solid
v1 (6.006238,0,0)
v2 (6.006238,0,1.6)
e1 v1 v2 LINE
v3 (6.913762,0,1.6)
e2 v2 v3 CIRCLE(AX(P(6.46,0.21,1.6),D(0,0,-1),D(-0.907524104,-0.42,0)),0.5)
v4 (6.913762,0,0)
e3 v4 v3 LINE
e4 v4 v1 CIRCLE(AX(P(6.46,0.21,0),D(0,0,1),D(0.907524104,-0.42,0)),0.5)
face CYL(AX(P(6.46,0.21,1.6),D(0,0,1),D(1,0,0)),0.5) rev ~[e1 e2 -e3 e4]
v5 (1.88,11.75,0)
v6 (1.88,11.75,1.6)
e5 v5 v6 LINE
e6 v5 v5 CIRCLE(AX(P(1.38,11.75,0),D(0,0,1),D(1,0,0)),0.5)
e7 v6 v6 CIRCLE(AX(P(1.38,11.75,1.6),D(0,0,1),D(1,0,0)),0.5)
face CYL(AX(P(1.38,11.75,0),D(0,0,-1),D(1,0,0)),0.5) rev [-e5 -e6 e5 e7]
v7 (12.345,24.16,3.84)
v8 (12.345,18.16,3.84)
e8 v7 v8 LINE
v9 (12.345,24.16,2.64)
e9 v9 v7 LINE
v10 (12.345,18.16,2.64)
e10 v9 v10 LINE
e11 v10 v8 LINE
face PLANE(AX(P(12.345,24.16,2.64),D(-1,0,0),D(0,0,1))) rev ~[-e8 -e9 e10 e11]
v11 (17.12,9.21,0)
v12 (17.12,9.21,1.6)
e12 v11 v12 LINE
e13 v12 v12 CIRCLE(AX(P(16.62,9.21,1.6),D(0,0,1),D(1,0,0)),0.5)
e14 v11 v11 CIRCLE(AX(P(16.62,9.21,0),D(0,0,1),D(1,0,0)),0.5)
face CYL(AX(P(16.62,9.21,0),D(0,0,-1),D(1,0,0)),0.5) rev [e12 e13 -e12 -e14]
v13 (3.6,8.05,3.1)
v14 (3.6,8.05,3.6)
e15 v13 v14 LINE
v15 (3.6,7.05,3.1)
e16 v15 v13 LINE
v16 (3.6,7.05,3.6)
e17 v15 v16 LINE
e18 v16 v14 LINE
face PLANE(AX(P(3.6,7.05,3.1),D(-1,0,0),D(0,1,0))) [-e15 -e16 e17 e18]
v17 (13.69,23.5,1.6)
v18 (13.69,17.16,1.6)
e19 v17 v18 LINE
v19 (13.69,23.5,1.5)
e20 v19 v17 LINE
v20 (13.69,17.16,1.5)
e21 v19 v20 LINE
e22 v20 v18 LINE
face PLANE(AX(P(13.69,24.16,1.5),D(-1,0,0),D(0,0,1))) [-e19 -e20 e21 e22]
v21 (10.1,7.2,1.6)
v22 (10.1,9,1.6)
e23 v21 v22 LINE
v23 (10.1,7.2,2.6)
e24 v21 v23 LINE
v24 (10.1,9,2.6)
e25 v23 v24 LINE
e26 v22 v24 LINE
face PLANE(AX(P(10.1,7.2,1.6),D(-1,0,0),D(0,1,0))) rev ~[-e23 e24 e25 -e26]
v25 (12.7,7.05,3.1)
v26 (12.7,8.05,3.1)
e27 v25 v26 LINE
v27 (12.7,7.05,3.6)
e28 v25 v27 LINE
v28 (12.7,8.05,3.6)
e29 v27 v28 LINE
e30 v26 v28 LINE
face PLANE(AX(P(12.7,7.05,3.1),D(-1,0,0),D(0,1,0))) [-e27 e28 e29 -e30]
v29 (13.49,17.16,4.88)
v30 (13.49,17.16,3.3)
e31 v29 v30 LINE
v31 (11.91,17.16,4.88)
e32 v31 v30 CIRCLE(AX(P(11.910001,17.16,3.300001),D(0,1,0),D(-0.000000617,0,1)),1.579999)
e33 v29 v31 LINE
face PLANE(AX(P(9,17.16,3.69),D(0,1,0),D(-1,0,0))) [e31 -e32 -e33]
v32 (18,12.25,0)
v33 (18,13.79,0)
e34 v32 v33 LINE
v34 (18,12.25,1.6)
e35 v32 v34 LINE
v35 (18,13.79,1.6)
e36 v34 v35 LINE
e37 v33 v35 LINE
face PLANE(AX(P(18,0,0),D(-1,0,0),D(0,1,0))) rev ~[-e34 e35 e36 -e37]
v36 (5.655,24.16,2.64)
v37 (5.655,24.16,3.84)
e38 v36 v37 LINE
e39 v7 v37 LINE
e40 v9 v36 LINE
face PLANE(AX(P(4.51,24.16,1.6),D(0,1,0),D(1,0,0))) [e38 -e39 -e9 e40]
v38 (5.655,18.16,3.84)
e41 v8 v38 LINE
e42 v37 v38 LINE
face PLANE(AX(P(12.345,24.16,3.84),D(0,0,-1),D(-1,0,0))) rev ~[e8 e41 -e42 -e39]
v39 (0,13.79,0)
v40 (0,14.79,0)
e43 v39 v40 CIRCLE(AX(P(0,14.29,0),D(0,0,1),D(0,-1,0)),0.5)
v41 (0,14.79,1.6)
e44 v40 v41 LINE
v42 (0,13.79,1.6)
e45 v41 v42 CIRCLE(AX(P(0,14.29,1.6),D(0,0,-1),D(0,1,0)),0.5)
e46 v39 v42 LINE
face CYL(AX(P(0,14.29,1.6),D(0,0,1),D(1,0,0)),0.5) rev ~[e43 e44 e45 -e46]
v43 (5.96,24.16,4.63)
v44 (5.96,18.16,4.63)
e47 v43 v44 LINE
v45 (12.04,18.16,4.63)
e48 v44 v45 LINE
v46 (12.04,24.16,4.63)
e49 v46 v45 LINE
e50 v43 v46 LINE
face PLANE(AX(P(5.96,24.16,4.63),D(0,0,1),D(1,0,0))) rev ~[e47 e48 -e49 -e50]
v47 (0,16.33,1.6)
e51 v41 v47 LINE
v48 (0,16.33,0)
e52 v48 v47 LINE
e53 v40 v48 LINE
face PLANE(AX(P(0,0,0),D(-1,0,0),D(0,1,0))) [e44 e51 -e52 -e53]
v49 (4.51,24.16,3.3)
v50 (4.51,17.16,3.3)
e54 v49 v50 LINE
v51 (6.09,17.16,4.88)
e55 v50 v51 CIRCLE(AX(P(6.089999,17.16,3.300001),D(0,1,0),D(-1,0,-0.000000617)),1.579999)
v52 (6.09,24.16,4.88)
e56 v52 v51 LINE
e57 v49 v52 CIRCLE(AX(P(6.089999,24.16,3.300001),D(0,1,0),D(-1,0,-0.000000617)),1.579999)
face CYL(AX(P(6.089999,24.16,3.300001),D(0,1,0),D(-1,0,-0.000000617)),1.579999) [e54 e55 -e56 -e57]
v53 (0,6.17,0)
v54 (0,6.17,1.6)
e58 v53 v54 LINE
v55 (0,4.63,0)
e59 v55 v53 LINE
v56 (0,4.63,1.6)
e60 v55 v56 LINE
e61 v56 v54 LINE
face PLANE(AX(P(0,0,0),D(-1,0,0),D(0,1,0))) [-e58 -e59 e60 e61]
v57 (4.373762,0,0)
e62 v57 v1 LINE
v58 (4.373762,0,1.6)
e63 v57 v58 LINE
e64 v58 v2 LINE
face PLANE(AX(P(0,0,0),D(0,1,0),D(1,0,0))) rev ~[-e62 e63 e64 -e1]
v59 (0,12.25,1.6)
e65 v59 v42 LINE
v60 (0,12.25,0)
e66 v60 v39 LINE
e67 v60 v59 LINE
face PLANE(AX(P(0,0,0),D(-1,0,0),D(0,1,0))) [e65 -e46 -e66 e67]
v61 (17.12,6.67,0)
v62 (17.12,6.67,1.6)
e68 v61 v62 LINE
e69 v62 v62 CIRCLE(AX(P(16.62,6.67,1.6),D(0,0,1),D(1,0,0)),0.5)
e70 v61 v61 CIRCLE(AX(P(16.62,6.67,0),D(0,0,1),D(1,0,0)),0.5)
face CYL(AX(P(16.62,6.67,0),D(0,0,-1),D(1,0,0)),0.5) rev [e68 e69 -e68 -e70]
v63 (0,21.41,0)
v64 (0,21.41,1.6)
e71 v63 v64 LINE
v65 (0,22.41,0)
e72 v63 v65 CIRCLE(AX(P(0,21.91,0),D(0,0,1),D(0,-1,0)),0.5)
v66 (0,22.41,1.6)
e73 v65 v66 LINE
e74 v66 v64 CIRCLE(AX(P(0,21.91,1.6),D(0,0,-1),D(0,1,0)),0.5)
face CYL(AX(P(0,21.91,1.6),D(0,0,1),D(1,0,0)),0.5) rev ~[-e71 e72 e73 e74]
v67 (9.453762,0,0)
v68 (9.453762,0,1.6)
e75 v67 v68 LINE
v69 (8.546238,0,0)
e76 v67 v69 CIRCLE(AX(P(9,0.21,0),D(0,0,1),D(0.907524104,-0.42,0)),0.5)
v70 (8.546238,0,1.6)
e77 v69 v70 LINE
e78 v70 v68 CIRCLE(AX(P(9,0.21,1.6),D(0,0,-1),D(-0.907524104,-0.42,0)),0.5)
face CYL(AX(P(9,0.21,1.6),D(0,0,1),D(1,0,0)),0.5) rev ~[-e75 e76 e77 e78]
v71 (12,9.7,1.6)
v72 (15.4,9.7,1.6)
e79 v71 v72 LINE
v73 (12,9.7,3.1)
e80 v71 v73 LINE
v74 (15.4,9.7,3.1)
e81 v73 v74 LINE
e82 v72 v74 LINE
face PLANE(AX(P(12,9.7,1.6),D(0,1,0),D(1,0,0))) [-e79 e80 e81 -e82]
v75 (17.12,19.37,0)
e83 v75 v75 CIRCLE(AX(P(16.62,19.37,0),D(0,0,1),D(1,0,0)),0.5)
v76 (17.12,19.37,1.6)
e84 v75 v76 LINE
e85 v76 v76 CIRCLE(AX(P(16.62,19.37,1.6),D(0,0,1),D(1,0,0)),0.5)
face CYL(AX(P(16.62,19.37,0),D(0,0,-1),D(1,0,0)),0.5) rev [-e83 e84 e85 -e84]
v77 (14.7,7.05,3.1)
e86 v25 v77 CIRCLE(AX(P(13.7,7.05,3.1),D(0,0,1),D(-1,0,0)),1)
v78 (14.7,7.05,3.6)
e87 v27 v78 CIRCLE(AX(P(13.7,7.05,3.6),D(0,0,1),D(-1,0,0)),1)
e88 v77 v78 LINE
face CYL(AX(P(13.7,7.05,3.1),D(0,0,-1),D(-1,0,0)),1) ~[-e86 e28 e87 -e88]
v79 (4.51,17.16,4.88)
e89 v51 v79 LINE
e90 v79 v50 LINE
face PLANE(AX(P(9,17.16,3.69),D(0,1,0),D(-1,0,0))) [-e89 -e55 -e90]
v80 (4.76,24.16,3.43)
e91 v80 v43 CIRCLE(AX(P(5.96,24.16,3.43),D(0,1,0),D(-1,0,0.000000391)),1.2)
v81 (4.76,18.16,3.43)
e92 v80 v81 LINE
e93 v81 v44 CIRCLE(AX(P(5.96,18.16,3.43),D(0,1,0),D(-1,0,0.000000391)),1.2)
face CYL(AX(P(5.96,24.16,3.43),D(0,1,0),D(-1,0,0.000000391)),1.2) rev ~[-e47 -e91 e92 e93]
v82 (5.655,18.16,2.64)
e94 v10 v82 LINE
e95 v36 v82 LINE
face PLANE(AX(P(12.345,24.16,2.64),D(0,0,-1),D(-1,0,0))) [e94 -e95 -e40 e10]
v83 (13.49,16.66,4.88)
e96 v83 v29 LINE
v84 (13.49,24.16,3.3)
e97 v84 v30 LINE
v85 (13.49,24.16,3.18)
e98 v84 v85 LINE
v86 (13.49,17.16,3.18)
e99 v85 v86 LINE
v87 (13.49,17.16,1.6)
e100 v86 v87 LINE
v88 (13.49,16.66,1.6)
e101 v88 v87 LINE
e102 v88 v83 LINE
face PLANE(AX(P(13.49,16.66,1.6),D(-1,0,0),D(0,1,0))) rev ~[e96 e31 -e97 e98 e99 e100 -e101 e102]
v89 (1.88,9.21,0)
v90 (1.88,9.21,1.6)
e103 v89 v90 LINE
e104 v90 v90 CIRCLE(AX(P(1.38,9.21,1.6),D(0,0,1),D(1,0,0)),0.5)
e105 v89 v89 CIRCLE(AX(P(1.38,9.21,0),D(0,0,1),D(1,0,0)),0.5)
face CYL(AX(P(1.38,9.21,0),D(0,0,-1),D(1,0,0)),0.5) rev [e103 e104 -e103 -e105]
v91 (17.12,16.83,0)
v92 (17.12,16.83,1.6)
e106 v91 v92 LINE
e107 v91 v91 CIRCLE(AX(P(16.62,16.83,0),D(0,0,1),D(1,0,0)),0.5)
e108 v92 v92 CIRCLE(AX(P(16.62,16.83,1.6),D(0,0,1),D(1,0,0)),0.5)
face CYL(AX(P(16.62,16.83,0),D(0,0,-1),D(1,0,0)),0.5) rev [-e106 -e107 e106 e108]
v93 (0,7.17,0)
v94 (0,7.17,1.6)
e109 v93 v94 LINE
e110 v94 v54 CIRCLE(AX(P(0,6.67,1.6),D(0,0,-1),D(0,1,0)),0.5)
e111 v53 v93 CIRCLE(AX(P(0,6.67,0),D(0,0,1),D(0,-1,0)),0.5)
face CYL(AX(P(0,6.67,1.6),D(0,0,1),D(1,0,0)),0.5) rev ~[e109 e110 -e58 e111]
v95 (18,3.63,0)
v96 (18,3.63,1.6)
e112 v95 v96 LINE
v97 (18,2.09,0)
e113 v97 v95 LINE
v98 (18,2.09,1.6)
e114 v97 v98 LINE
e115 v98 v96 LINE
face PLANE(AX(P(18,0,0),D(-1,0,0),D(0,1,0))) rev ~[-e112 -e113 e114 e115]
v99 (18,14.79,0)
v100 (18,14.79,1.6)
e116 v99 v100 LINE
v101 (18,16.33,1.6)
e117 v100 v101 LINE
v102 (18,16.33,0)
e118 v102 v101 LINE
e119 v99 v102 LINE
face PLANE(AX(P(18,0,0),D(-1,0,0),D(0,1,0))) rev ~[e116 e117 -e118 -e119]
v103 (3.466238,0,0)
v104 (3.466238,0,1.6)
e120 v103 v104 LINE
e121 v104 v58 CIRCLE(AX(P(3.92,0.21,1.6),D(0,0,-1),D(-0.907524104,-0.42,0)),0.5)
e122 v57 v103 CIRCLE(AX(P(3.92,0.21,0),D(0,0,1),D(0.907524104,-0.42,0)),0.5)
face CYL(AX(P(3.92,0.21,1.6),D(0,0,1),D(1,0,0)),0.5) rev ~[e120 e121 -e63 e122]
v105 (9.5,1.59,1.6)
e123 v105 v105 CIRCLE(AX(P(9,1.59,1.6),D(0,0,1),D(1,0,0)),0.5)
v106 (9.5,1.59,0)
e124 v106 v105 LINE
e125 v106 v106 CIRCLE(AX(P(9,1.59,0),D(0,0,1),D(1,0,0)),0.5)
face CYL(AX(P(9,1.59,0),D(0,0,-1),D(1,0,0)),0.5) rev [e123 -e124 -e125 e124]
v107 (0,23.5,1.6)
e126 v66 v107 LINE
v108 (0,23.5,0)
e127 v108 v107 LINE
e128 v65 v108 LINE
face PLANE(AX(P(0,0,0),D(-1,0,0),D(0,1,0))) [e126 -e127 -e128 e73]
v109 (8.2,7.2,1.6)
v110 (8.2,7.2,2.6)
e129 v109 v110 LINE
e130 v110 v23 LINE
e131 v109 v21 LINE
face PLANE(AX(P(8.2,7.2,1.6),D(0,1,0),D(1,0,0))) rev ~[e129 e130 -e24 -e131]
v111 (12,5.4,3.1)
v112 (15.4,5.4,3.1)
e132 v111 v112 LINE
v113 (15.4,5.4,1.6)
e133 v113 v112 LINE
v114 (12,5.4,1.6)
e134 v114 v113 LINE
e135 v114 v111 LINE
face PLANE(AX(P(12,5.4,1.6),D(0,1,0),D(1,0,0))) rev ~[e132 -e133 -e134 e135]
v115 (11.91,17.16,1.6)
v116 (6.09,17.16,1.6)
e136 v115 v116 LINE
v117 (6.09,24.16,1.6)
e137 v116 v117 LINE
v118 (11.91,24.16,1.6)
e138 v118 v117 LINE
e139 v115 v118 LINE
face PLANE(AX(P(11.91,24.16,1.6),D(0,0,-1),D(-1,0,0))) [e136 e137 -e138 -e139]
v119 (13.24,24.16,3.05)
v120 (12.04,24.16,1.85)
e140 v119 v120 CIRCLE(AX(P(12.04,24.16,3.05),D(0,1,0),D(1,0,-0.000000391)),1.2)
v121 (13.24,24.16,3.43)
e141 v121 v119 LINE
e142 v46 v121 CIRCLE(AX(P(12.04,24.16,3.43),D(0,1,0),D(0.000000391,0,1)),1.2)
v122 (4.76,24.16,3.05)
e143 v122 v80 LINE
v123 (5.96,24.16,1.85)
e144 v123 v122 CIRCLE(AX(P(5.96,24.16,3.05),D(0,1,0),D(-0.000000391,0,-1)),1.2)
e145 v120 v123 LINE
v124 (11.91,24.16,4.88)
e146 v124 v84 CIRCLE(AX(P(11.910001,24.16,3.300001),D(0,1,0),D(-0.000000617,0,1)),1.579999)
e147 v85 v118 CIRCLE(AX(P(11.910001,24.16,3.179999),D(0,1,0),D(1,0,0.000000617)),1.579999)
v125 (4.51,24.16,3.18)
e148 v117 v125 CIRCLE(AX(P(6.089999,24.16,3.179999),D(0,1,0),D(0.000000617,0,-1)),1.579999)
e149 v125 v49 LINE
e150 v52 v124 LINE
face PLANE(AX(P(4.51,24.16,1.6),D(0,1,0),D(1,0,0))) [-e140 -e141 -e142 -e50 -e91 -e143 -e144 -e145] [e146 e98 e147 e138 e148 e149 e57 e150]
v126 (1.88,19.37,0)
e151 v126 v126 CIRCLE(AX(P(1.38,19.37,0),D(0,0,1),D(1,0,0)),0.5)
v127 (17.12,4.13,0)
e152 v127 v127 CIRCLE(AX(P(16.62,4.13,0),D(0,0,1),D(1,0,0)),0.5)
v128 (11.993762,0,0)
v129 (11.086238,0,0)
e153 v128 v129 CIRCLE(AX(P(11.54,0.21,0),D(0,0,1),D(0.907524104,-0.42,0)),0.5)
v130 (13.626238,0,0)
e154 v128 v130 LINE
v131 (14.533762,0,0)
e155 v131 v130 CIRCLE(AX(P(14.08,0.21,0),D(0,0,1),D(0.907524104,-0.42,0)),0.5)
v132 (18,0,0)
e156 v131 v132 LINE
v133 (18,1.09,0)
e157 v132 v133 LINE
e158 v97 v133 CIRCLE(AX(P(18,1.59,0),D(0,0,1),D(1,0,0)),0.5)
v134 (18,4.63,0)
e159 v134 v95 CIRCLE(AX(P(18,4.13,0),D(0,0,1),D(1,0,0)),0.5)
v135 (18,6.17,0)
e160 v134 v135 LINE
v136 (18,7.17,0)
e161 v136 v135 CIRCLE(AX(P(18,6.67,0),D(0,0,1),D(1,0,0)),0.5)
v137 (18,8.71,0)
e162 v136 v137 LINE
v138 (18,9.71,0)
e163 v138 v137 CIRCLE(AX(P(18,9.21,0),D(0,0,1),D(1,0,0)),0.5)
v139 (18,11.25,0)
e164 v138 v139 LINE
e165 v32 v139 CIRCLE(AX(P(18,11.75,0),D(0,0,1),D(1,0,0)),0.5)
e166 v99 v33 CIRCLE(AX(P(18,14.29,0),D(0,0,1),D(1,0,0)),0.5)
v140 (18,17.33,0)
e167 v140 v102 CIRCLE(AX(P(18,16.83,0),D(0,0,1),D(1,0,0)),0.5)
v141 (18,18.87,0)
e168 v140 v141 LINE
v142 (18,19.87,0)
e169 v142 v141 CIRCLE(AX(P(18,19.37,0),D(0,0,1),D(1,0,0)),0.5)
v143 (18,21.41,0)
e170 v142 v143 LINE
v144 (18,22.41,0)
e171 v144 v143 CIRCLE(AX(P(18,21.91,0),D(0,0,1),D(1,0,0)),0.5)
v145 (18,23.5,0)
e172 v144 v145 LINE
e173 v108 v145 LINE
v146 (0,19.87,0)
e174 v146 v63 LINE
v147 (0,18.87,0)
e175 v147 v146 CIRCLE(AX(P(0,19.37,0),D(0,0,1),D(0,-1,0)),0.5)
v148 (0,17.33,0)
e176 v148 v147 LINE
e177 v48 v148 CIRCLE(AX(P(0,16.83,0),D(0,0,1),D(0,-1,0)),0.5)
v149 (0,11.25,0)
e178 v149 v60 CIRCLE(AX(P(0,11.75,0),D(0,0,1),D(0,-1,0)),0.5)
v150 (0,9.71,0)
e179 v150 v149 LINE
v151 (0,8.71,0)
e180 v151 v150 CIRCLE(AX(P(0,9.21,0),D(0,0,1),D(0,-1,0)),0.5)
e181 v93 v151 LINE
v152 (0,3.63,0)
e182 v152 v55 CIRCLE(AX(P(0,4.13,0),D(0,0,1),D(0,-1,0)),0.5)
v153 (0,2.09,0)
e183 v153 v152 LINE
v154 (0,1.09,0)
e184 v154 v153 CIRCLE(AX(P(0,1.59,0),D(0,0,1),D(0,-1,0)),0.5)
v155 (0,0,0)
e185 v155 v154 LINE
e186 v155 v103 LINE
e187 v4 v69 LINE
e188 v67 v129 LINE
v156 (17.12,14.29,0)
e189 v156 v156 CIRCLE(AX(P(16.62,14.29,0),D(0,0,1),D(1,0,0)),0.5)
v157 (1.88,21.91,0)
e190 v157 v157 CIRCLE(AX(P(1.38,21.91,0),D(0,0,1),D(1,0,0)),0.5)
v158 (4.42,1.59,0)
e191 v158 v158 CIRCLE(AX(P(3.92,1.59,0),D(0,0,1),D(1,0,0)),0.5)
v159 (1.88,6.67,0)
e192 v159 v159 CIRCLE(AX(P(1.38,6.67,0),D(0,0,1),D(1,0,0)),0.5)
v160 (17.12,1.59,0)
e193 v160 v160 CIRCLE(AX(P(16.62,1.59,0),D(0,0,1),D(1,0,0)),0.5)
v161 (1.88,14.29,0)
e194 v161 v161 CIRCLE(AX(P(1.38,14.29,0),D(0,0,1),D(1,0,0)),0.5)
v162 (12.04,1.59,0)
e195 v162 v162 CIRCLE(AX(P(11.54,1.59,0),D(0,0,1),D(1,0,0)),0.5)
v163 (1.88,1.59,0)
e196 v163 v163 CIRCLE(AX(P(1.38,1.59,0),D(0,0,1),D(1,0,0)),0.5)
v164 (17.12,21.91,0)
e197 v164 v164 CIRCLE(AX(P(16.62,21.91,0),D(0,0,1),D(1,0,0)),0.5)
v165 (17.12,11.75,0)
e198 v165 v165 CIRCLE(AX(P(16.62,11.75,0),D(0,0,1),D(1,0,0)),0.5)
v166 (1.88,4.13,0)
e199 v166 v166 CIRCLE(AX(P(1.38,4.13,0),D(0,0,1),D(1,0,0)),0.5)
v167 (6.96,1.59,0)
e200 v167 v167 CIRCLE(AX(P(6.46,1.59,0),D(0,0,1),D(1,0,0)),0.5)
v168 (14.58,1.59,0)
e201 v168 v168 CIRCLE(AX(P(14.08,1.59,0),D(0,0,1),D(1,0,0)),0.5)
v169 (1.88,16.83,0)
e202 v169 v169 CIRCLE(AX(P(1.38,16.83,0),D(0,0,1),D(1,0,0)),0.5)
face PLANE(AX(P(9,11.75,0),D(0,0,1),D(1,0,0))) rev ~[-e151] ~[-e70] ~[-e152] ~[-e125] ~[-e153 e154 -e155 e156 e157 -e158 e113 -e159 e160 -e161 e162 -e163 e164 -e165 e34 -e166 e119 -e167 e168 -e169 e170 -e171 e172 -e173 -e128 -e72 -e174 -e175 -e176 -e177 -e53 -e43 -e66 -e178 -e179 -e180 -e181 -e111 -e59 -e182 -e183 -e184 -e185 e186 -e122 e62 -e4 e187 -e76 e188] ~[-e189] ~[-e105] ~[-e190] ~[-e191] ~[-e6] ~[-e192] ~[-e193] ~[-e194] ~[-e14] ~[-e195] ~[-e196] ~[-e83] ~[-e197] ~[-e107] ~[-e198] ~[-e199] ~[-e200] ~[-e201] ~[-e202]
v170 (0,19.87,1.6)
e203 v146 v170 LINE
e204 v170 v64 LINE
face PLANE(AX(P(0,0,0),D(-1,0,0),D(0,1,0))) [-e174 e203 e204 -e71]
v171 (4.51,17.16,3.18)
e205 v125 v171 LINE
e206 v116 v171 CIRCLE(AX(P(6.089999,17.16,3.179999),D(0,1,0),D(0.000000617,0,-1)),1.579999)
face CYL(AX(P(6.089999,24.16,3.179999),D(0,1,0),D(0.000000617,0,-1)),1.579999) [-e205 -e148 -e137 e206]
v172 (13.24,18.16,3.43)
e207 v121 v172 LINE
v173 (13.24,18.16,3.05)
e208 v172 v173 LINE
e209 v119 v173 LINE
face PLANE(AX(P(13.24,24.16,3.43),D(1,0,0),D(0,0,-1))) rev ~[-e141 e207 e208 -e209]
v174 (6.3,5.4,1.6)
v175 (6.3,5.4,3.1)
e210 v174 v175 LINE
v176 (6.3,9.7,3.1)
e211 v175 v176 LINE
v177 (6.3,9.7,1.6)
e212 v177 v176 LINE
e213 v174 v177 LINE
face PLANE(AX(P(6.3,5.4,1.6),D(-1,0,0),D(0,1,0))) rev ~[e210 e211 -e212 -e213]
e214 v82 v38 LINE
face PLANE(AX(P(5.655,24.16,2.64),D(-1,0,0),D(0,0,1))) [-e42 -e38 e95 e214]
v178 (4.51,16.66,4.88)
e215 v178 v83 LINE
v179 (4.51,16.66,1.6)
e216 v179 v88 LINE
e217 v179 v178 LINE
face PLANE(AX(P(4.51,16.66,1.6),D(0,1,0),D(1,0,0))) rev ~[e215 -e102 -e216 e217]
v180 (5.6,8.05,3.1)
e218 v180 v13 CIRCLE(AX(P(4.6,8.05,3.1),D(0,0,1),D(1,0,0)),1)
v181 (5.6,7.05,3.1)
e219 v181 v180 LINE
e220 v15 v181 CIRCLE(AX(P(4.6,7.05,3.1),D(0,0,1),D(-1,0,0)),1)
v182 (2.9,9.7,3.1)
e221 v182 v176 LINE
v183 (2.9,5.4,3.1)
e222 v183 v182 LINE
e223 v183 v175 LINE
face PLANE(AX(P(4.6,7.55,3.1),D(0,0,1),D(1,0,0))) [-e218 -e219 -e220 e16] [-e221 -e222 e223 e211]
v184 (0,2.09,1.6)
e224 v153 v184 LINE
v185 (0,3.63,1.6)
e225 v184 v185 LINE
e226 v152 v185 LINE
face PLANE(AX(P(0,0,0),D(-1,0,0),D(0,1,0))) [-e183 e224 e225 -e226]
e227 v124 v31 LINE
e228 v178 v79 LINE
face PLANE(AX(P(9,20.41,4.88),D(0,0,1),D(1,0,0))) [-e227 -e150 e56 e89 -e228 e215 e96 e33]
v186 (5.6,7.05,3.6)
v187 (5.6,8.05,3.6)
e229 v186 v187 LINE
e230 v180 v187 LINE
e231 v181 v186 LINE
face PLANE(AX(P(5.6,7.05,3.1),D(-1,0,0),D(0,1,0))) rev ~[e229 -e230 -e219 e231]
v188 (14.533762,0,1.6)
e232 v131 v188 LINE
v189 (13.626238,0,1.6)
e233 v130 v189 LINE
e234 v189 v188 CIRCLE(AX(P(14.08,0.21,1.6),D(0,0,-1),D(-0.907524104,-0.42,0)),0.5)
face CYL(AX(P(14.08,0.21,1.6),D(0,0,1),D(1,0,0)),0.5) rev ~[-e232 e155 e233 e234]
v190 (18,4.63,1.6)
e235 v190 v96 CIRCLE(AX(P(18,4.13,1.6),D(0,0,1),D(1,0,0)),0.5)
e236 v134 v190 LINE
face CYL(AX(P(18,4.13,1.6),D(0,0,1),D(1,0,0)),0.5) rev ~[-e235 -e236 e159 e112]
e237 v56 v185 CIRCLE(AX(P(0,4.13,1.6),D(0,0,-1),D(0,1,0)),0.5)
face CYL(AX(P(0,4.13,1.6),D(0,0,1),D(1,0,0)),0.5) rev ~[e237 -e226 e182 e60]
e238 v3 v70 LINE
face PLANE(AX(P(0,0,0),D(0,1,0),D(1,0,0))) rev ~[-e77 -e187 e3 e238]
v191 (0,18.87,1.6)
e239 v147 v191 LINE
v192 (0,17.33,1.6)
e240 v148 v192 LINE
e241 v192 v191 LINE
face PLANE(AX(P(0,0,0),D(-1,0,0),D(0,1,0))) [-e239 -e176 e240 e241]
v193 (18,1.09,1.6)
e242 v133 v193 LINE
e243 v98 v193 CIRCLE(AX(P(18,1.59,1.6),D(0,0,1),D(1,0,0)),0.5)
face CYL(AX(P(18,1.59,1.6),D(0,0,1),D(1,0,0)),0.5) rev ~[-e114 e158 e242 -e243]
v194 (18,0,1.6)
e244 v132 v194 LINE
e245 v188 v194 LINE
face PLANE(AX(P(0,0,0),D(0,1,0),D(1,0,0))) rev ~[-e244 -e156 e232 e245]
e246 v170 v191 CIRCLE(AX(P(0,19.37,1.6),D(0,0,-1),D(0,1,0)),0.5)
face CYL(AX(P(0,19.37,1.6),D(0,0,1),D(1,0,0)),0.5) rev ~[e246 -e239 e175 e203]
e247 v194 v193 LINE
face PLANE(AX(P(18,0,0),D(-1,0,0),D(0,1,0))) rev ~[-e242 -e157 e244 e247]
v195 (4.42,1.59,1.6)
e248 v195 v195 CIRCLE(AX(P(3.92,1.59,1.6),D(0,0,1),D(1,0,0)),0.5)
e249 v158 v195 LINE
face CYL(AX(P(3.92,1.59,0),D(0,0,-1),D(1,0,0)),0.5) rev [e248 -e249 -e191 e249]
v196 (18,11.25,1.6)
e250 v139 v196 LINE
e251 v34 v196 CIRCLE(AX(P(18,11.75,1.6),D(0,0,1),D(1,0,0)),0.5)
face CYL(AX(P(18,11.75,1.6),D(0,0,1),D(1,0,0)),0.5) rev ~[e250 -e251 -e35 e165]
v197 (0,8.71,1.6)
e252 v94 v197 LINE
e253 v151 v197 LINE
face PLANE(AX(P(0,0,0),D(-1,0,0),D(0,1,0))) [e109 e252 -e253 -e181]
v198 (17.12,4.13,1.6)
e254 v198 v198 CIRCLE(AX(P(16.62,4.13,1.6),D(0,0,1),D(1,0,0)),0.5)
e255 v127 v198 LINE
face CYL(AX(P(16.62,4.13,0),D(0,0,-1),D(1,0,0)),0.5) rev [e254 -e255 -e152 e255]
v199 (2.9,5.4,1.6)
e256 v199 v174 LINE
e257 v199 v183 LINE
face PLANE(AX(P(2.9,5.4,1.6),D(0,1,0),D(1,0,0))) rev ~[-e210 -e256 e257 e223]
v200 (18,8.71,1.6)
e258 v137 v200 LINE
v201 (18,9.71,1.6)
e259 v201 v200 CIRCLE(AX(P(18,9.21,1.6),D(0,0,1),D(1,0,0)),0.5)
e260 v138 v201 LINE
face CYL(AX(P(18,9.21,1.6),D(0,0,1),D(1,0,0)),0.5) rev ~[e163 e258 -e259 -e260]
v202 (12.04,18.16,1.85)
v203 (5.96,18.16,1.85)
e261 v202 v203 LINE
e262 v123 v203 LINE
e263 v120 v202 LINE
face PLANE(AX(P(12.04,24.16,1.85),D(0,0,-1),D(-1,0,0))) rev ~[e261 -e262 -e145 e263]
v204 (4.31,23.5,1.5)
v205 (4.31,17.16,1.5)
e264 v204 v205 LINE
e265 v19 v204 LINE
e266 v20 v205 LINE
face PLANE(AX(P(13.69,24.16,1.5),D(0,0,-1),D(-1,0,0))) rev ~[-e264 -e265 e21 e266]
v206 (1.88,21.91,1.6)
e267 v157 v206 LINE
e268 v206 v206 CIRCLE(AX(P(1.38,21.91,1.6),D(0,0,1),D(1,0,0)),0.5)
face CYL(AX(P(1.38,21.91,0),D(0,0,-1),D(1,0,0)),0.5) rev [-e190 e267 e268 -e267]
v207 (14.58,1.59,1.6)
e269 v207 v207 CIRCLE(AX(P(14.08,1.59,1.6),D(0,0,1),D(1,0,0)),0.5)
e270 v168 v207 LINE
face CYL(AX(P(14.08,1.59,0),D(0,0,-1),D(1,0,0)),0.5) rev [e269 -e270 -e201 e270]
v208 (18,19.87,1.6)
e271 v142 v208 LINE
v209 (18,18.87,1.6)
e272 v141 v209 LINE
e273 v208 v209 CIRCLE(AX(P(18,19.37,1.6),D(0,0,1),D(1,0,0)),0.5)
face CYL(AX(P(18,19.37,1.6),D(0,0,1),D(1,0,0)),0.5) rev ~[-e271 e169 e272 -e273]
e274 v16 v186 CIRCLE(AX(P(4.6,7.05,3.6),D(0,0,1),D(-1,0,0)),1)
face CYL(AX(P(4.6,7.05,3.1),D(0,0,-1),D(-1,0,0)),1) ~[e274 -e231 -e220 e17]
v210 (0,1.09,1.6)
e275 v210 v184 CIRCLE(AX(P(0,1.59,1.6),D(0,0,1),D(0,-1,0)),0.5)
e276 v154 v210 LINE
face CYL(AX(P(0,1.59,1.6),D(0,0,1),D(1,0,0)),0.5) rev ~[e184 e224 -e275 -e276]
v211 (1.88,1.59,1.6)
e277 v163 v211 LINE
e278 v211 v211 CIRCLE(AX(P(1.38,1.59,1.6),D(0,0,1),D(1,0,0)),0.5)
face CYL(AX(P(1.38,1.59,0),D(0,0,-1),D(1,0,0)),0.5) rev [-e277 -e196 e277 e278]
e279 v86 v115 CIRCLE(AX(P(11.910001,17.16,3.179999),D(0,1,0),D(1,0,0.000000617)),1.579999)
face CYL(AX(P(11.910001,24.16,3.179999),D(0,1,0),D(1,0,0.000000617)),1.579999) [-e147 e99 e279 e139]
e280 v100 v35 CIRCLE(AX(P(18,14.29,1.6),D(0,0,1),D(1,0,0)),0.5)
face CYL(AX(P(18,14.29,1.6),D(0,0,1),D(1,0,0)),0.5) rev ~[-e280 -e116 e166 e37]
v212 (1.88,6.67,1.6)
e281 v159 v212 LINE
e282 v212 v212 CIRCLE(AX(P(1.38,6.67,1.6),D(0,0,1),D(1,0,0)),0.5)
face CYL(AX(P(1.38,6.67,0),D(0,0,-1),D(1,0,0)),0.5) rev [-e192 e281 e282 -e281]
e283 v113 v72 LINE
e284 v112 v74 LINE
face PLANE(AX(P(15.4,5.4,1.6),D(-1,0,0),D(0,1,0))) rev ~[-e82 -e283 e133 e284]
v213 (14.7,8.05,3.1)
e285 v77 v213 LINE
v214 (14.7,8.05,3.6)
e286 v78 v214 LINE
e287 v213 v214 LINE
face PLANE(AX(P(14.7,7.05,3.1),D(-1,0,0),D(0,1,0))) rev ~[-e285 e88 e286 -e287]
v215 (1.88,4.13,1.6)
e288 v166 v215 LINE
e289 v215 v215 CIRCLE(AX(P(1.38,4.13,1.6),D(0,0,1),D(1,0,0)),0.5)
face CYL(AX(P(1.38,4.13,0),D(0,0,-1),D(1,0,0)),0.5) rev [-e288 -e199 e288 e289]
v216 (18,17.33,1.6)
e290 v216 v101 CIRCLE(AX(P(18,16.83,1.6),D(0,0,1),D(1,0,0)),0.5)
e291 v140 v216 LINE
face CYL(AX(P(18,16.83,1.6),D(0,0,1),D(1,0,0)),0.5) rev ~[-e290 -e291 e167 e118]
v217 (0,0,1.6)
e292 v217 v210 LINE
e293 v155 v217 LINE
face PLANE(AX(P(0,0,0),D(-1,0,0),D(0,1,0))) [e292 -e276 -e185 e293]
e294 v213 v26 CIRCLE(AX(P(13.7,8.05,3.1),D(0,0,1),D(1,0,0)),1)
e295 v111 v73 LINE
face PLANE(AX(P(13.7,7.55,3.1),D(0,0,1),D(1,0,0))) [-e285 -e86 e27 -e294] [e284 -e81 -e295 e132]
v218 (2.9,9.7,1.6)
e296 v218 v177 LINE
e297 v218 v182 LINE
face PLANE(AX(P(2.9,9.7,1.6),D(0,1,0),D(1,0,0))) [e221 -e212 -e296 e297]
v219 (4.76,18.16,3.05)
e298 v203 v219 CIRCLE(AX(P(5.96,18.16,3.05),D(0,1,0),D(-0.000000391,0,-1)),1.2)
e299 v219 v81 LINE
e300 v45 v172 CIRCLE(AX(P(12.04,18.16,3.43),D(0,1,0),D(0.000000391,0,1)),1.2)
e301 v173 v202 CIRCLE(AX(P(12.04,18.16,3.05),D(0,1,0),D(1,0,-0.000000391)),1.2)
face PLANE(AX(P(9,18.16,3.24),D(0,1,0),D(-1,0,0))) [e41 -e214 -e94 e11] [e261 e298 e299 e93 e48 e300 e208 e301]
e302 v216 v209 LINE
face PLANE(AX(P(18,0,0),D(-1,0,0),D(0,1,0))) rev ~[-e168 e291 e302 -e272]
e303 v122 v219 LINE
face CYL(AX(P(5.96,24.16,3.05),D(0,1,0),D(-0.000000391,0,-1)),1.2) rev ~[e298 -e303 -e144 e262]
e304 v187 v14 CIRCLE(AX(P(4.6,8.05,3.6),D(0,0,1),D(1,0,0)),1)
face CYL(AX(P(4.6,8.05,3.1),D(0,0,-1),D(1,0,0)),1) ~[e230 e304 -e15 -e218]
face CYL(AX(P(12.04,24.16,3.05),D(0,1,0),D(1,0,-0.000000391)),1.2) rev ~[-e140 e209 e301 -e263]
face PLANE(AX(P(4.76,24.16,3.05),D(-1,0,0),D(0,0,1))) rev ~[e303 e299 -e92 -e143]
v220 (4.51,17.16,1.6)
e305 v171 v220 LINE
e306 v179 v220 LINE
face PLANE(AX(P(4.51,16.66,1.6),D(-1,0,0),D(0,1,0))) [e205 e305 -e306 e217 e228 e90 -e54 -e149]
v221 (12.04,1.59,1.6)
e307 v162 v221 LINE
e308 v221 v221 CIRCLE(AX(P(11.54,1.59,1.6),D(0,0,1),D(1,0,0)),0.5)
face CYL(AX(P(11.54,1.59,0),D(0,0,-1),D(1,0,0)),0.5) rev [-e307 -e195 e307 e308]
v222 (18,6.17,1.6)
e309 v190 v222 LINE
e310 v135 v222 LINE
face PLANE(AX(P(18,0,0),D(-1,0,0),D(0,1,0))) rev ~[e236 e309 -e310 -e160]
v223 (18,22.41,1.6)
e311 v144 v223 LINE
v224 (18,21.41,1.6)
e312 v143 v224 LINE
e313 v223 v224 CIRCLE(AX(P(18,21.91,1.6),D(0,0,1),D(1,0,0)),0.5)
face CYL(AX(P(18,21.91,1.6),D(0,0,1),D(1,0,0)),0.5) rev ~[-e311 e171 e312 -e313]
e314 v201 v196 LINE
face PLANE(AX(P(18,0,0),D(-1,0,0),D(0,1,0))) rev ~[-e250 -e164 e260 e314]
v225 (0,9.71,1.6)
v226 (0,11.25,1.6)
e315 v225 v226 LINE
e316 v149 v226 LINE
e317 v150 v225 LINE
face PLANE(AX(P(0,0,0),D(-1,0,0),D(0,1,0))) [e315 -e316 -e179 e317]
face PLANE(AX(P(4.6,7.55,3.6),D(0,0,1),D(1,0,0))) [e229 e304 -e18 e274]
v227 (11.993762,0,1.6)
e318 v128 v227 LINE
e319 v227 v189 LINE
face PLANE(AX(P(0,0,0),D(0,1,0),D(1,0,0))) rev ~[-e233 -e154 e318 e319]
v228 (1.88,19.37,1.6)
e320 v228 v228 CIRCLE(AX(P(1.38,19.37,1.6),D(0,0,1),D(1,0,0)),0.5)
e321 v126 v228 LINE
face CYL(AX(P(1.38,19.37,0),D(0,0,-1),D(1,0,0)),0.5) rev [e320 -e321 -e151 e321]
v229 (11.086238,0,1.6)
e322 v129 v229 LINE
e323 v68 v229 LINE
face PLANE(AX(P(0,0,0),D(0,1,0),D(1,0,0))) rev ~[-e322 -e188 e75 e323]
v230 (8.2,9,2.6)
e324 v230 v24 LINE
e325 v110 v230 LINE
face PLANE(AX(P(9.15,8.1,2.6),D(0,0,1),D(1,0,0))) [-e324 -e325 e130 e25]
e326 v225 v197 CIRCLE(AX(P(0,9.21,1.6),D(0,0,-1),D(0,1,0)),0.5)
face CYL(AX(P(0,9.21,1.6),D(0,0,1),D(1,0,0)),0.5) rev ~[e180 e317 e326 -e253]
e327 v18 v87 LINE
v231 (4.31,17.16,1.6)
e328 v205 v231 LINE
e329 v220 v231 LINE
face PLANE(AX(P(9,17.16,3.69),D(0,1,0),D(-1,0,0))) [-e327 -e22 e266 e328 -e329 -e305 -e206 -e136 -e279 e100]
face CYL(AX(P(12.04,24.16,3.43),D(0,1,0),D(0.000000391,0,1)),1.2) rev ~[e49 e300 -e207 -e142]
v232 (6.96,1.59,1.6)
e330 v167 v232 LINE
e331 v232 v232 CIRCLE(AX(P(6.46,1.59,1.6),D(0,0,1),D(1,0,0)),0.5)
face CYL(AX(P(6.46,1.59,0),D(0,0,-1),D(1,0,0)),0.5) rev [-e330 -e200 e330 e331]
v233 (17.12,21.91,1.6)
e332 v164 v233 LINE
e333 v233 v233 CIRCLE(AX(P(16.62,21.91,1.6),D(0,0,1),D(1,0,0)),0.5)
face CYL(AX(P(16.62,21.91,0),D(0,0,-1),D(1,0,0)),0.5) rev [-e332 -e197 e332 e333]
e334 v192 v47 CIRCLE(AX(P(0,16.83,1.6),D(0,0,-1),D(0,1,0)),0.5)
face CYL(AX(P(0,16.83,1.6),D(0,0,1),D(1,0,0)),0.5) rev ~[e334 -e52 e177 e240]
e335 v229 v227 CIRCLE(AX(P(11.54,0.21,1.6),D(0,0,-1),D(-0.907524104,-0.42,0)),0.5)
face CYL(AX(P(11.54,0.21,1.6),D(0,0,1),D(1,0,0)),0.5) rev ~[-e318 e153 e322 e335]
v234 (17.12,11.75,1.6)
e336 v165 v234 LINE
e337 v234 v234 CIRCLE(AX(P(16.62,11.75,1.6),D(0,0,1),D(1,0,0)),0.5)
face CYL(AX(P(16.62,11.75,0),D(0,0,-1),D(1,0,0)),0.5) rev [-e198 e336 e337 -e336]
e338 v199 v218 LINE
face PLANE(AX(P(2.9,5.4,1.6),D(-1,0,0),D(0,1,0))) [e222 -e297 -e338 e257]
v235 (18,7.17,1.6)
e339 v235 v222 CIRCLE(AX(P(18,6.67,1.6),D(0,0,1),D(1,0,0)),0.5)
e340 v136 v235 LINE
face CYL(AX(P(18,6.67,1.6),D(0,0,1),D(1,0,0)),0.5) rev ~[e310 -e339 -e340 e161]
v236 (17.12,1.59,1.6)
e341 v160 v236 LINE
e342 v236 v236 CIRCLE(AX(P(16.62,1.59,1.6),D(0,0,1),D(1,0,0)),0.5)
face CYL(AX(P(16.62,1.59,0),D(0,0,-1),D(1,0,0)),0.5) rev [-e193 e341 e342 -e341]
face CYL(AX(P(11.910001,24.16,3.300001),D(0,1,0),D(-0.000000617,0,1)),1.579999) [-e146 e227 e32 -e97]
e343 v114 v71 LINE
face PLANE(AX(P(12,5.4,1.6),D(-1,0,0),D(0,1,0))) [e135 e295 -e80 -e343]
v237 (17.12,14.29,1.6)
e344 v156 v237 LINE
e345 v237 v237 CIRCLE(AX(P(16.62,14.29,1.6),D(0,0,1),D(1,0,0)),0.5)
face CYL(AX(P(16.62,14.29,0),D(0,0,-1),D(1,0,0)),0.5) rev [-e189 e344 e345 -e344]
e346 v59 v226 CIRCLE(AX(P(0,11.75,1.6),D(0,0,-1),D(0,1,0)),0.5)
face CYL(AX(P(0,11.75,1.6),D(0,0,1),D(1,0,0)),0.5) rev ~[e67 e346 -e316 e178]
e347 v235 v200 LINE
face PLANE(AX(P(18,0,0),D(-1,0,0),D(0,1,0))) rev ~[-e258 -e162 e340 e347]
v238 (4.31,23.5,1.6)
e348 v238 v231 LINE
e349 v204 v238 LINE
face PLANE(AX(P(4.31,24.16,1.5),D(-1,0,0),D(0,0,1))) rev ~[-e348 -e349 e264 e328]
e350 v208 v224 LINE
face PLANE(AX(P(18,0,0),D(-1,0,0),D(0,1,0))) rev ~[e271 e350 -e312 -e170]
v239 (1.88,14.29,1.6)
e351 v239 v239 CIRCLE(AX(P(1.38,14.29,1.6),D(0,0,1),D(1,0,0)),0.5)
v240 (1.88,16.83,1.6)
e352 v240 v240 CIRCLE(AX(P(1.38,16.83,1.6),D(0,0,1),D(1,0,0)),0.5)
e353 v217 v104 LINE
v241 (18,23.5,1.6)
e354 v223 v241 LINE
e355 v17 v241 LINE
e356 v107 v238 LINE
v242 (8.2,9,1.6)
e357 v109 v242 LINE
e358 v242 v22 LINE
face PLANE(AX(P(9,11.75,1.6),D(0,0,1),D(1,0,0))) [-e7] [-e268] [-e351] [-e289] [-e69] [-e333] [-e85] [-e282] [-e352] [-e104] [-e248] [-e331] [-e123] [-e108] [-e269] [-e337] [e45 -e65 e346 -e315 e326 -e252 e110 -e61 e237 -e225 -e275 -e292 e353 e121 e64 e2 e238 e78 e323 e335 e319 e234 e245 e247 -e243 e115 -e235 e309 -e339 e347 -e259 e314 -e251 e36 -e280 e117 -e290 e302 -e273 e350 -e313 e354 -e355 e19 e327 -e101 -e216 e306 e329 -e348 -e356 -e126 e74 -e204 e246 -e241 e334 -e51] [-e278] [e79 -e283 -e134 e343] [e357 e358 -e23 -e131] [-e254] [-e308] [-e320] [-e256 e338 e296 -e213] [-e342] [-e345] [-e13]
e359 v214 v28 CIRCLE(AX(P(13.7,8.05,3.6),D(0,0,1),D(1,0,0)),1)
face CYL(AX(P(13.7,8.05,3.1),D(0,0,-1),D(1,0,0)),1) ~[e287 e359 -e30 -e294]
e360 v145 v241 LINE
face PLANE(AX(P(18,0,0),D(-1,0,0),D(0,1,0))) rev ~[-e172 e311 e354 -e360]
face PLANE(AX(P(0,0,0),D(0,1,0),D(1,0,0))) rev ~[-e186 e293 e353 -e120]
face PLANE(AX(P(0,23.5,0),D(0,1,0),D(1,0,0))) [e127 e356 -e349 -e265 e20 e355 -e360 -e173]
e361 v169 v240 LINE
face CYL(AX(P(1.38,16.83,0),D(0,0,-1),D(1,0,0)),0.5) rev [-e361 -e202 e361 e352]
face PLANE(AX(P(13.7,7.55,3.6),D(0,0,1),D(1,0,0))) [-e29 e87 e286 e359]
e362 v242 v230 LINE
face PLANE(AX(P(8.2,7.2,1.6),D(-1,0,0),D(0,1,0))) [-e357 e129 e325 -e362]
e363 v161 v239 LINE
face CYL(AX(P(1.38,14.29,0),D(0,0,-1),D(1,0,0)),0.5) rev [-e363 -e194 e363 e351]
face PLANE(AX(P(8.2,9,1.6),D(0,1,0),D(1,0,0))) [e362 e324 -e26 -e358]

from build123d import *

# Parameters (mm, degrees)
SKETCH_W        = 18
SKETCH_H        = 23.5
SKETCH_R        = 0.5
PAD_DEPTH       = 1.6
SKETCH001_R     = 0.5
POCKET_DEPTH    = 5
SKETCH002_W     = 8.98
SKETCH002_H     = 7.5
PAD001_DEPTH    = 3.28
SKETCH003_W     = 9.38
SKETCH003_H     = 4.38
POCKET001_DEPTH = 7
SKETCH004_W     = 6.69
SKETCH004_H     = 1.2
POCKET002_DEPTH = 6
SKETCH005_W     = 3.4
SKETCH005_H     = 4.3
PAD002_DEPTH    = 1.5
SKETCH006_W     = 1.9
SKETCH006_H     = 1.8
PAD003_DEPTH    = 1
PAD004_DEPTH    = 0.5


with BuildPart() as part:
    # Sketch → Pad (new body)
    with BuildSketch(Plane.XY):
        with Locations((9, 11.75)):
            Rectangle(SKETCH_W, SKETCH_H)
        with Locations((1.38, 21.91)):
            Circle(SKETCH_R, mode=Mode.SUBTRACT)
        with Locations((1.38, 19.37)):
            Circle(SKETCH_R, mode=Mode.SUBTRACT)
        with Locations((1.38, 16.83)):
            Circle(SKETCH_R, mode=Mode.SUBTRACT)
        with Locations((1.38, 14.29)):
            Circle(SKETCH_R, mode=Mode.SUBTRACT)
        with Locations((1.38, 11.75)):
            Circle(SKETCH_R, mode=Mode.SUBTRACT)
        with Locations((1.38, 9.21)):
            Circle(SKETCH_R, mode=Mode.SUBTRACT)
        with Locations((1.38, 6.67)):
            Circle(SKETCH_R, mode=Mode.SUBTRACT)
        with Locations((1.38, 4.13)):
            Circle(SKETCH_R, mode=Mode.SUBTRACT)
        with Locations((1.38, 1.59)):
            Circle(SKETCH_R, mode=Mode.SUBTRACT)
        with Locations((16.62, 21.91)):
            Circle(SKETCH_R, mode=Mode.SUBTRACT)
        with Locations((16.62, 19.37)):
            Circle(SKETCH_R, mode=Mode.SUBTRACT)
        with Locations((16.62, 16.83)):
            Circle(SKETCH_R, mode=Mode.SUBTRACT)
        with Locations((16.62, 14.29)):
            Circle(SKETCH_R, mode=Mode.SUBTRACT)
        with Locations((16.62, 11.75)):
            Circle(SKETCH_R, mode=Mode.SUBTRACT)
        with Locations((16.62, 9.21)):
            Circle(SKETCH_R, mode=Mode.SUBTRACT)
        with Locations((16.62, 6.67)):
            Circle(SKETCH_R, mode=Mode.SUBTRACT)
        with Locations((16.62, 4.13)):
            Circle(SKETCH_R, mode=Mode.SUBTRACT)
        with Locations((16.62, 1.59)):
            Circle(SKETCH_R, mode=Mode.SUBTRACT)
        with Locations((14.08, 1.59)):
            Circle(SKETCH_R, mode=Mode.SUBTRACT)
        with Locations((11.54, 1.59)):
            Circle(SKETCH_R, mode=Mode.SUBTRACT)
        with Locations((9, 1.59)):
            Circle(SKETCH_R, mode=Mode.SUBTRACT)
        with Locations((6.46, 1.59)):
            Circle(SKETCH_R, mode=Mode.SUBTRACT)
        with Locations((3.92, 1.59)):
            Circle(SKETCH_R, mode=Mode.SUBTRACT)
    extrude(amount=PAD_DEPTH)

    # Sketch001 (on Face29 of Pad) → Pocket (cut)
    with BuildSketch(Plane.XY.offset(1.6)):
        with Locations((0, 21.91)):
            Circle(SKETCH001_R)
        with Locations((0, 19.37)):
            Circle(SKETCH001_R)
        with Locations((0, 16.83)):
            Circle(SKETCH001_R)
        with Locations((0, 14.29)):
            Circle(SKETCH001_R)
        with Locations((0, 11.75)):
            Circle(SKETCH001_R)
        with Locations((0, 9.21)):
            Circle(SKETCH001_R)
        with Locations((0, 6.67)):
            Circle(SKETCH001_R)
        with Locations((0, 4.13)):
            Circle(SKETCH001_R)
        with Locations((0, 1.59)):
            Circle(SKETCH001_R)
        with Locations((18, 21.91)):
            Circle(SKETCH001_R)
        with Locations((18, 19.37)):
            Circle(SKETCH001_R)
        with Locations((18, 16.83)):
            Circle(SKETCH001_R)
        with Locations((18, 14.29)):
            Circle(SKETCH001_R)
        with Locations((18, 11.75)):
            Circle(SKETCH001_R)
        with Locations((18, 9.21)):
            Circle(SKETCH001_R)
        with Locations((18, 6.67)):
            Circle(SKETCH001_R)
        with Locations((18, 4.13)):
            Circle(SKETCH001_R)
        with Locations((18, 1.59)):
            Circle(SKETCH001_R)
        with Locations((3.92, 0.21)):
            Circle(SKETCH001_R)
        with Locations((6.46, 0.21)):
            Circle(SKETCH001_R)
        with Locations((9, 0.21)):
            Circle(SKETCH001_R)
        with Locations((11.54, 0.21)):
            Circle(SKETCH001_R)
        with Locations((14.08, 0.21)):
            Circle(SKETCH001_R)
    extrude(amount=-POCKET_DEPTH, mode=Mode.SUBTRACT)

    # Sketch002 (on Face3 of Pocket) → Pad001 (join)
    with BuildSketch(Plane.XY.offset(1.6)):
        with Locations((9, 20.41)):
            Rectangle(SKETCH002_W, SKETCH002_H)
    extrude(amount=PAD001_DEPTH)

    # Sketch003 (on Face80 of Pad001) → Pocket001 (cut)
    with BuildSketch(Plane(origin=(0, 24.16, 0), x_dir=(-1, 0, 0), z_dir=(0, 1, 0))):
        with Locations((-9, 3.69)):
            Rectangle(SKETCH003_W, SKETCH003_H)
        with BuildLine():
            Line((-11.91, 1.6), (-6.09, 1.6))
            ThreePointArc((-6.09, 1.6), (-4.972771, 2.062771), (-4.51, 3.18))
            Line((-4.51, 3.18), (-4.51, 3.3))
            ThreePointArc((-4.51, 3.3), (-4.972771, 4.417229), (-6.09, 4.88))
            Line((-6.09, 4.88), (-11.91, 4.88))
            ThreePointArc((-11.91, 4.88), (-13.027229, 4.417229), (-13.49, 3.3))
            Line((-13.49, 3.3), (-13.49, 3.18))
            ThreePointArc((-13.49, 3.18), (-13.027229, 2.062771), (-11.91, 1.6))
        make_face(mode=Mode.SUBTRACT)
    extrude(amount=-POCKET001_DEPTH, mode=Mode.SUBTRACT)

    # Sketch004 (on Face83 of Pocket001) → Pocket002 (cut)
    with BuildSketch(Plane(origin=(0, 24.16, 0), x_dir=(-1, 0, 0), z_dir=(0, 1, 0))):
        with BuildLine():
            Line((-12.04, 1.85), (-5.96, 1.85))
            ThreePointArc((-5.96, 1.85), (-5.111472, 2.201472), (-4.76, 3.05))
            Line((-4.76, 3.05), (-4.76, 3.43))
            ThreePointArc((-4.76, 3.43), (-5.111472, 4.278528), (-5.96, 4.63))
            Line((-5.96, 4.63), (-12.04, 4.63))
            ThreePointArc((-12.04, 4.63), (-12.888528, 4.278528), (-13.24, 3.43))
            Line((-13.24, 3.43), (-13.24, 3.05))
            ThreePointArc((-13.24, 3.05), (-12.888528, 2.201472), (-12.04, 1.85))
        make_face()
        with Locations((-9, 3.24)):
            Rectangle(SKETCH004_W, SKETCH004_H, mode=Mode.SUBTRACT)
    extrude(amount=-POCKET002_DEPTH, mode=Mode.SUBTRACT)

    # Sketch005 (on Face4 of Pocket002) → Pad002 (join)
    with BuildSketch(Plane.XY.offset(1.6)):
        with Locations((4.6, 7.55)):
            Rectangle(SKETCH005_W, SKETCH005_H)
        with Locations((13.7, 7.55)):
            Rectangle(SKETCH005_W, SKETCH005_H)
    extrude(amount=PAD002_DEPTH)

    # Sketch006 (on Face4 of Pad002) → Pad003 (join)
    with BuildSketch(Plane.XY.offset(1.6)):
        with Locations((9.15, 8.1)):
            Rectangle(SKETCH006_W, SKETCH006_H)
    extrude(amount=PAD003_DEPTH)

    # Sketch007 (on Face106 of Pad003) → Pad004 (join)
    with BuildSketch(Plane.XY.offset(3.1)):
        with BuildLine():
            ThreePointArc((12.7, 7.05), (13.7, 6.05), (14.7, 7.05))
            Line((14.7, 7.05), (14.7, 8.05))
            ThreePointArc((14.7, 8.05), (13.7, 9.05), (12.7, 8.05))
            Line((12.7, 7.05), (12.7, 8.05))
        make_face()
        with BuildLine():
            ThreePointArc((3.6, 7.05), (4.6, 6.05), (5.6, 7.05))
            Line((5.6, 7.05), (5.6, 8.05))
            ThreePointArc((5.6, 8.05), (4.6, 9.05), (3.6, 8.05))
            Line((3.6, 7.05), (3.6, 8.05))
        make_face()
    extrude(amount=PAD004_DEPTH)


solid = part.part
